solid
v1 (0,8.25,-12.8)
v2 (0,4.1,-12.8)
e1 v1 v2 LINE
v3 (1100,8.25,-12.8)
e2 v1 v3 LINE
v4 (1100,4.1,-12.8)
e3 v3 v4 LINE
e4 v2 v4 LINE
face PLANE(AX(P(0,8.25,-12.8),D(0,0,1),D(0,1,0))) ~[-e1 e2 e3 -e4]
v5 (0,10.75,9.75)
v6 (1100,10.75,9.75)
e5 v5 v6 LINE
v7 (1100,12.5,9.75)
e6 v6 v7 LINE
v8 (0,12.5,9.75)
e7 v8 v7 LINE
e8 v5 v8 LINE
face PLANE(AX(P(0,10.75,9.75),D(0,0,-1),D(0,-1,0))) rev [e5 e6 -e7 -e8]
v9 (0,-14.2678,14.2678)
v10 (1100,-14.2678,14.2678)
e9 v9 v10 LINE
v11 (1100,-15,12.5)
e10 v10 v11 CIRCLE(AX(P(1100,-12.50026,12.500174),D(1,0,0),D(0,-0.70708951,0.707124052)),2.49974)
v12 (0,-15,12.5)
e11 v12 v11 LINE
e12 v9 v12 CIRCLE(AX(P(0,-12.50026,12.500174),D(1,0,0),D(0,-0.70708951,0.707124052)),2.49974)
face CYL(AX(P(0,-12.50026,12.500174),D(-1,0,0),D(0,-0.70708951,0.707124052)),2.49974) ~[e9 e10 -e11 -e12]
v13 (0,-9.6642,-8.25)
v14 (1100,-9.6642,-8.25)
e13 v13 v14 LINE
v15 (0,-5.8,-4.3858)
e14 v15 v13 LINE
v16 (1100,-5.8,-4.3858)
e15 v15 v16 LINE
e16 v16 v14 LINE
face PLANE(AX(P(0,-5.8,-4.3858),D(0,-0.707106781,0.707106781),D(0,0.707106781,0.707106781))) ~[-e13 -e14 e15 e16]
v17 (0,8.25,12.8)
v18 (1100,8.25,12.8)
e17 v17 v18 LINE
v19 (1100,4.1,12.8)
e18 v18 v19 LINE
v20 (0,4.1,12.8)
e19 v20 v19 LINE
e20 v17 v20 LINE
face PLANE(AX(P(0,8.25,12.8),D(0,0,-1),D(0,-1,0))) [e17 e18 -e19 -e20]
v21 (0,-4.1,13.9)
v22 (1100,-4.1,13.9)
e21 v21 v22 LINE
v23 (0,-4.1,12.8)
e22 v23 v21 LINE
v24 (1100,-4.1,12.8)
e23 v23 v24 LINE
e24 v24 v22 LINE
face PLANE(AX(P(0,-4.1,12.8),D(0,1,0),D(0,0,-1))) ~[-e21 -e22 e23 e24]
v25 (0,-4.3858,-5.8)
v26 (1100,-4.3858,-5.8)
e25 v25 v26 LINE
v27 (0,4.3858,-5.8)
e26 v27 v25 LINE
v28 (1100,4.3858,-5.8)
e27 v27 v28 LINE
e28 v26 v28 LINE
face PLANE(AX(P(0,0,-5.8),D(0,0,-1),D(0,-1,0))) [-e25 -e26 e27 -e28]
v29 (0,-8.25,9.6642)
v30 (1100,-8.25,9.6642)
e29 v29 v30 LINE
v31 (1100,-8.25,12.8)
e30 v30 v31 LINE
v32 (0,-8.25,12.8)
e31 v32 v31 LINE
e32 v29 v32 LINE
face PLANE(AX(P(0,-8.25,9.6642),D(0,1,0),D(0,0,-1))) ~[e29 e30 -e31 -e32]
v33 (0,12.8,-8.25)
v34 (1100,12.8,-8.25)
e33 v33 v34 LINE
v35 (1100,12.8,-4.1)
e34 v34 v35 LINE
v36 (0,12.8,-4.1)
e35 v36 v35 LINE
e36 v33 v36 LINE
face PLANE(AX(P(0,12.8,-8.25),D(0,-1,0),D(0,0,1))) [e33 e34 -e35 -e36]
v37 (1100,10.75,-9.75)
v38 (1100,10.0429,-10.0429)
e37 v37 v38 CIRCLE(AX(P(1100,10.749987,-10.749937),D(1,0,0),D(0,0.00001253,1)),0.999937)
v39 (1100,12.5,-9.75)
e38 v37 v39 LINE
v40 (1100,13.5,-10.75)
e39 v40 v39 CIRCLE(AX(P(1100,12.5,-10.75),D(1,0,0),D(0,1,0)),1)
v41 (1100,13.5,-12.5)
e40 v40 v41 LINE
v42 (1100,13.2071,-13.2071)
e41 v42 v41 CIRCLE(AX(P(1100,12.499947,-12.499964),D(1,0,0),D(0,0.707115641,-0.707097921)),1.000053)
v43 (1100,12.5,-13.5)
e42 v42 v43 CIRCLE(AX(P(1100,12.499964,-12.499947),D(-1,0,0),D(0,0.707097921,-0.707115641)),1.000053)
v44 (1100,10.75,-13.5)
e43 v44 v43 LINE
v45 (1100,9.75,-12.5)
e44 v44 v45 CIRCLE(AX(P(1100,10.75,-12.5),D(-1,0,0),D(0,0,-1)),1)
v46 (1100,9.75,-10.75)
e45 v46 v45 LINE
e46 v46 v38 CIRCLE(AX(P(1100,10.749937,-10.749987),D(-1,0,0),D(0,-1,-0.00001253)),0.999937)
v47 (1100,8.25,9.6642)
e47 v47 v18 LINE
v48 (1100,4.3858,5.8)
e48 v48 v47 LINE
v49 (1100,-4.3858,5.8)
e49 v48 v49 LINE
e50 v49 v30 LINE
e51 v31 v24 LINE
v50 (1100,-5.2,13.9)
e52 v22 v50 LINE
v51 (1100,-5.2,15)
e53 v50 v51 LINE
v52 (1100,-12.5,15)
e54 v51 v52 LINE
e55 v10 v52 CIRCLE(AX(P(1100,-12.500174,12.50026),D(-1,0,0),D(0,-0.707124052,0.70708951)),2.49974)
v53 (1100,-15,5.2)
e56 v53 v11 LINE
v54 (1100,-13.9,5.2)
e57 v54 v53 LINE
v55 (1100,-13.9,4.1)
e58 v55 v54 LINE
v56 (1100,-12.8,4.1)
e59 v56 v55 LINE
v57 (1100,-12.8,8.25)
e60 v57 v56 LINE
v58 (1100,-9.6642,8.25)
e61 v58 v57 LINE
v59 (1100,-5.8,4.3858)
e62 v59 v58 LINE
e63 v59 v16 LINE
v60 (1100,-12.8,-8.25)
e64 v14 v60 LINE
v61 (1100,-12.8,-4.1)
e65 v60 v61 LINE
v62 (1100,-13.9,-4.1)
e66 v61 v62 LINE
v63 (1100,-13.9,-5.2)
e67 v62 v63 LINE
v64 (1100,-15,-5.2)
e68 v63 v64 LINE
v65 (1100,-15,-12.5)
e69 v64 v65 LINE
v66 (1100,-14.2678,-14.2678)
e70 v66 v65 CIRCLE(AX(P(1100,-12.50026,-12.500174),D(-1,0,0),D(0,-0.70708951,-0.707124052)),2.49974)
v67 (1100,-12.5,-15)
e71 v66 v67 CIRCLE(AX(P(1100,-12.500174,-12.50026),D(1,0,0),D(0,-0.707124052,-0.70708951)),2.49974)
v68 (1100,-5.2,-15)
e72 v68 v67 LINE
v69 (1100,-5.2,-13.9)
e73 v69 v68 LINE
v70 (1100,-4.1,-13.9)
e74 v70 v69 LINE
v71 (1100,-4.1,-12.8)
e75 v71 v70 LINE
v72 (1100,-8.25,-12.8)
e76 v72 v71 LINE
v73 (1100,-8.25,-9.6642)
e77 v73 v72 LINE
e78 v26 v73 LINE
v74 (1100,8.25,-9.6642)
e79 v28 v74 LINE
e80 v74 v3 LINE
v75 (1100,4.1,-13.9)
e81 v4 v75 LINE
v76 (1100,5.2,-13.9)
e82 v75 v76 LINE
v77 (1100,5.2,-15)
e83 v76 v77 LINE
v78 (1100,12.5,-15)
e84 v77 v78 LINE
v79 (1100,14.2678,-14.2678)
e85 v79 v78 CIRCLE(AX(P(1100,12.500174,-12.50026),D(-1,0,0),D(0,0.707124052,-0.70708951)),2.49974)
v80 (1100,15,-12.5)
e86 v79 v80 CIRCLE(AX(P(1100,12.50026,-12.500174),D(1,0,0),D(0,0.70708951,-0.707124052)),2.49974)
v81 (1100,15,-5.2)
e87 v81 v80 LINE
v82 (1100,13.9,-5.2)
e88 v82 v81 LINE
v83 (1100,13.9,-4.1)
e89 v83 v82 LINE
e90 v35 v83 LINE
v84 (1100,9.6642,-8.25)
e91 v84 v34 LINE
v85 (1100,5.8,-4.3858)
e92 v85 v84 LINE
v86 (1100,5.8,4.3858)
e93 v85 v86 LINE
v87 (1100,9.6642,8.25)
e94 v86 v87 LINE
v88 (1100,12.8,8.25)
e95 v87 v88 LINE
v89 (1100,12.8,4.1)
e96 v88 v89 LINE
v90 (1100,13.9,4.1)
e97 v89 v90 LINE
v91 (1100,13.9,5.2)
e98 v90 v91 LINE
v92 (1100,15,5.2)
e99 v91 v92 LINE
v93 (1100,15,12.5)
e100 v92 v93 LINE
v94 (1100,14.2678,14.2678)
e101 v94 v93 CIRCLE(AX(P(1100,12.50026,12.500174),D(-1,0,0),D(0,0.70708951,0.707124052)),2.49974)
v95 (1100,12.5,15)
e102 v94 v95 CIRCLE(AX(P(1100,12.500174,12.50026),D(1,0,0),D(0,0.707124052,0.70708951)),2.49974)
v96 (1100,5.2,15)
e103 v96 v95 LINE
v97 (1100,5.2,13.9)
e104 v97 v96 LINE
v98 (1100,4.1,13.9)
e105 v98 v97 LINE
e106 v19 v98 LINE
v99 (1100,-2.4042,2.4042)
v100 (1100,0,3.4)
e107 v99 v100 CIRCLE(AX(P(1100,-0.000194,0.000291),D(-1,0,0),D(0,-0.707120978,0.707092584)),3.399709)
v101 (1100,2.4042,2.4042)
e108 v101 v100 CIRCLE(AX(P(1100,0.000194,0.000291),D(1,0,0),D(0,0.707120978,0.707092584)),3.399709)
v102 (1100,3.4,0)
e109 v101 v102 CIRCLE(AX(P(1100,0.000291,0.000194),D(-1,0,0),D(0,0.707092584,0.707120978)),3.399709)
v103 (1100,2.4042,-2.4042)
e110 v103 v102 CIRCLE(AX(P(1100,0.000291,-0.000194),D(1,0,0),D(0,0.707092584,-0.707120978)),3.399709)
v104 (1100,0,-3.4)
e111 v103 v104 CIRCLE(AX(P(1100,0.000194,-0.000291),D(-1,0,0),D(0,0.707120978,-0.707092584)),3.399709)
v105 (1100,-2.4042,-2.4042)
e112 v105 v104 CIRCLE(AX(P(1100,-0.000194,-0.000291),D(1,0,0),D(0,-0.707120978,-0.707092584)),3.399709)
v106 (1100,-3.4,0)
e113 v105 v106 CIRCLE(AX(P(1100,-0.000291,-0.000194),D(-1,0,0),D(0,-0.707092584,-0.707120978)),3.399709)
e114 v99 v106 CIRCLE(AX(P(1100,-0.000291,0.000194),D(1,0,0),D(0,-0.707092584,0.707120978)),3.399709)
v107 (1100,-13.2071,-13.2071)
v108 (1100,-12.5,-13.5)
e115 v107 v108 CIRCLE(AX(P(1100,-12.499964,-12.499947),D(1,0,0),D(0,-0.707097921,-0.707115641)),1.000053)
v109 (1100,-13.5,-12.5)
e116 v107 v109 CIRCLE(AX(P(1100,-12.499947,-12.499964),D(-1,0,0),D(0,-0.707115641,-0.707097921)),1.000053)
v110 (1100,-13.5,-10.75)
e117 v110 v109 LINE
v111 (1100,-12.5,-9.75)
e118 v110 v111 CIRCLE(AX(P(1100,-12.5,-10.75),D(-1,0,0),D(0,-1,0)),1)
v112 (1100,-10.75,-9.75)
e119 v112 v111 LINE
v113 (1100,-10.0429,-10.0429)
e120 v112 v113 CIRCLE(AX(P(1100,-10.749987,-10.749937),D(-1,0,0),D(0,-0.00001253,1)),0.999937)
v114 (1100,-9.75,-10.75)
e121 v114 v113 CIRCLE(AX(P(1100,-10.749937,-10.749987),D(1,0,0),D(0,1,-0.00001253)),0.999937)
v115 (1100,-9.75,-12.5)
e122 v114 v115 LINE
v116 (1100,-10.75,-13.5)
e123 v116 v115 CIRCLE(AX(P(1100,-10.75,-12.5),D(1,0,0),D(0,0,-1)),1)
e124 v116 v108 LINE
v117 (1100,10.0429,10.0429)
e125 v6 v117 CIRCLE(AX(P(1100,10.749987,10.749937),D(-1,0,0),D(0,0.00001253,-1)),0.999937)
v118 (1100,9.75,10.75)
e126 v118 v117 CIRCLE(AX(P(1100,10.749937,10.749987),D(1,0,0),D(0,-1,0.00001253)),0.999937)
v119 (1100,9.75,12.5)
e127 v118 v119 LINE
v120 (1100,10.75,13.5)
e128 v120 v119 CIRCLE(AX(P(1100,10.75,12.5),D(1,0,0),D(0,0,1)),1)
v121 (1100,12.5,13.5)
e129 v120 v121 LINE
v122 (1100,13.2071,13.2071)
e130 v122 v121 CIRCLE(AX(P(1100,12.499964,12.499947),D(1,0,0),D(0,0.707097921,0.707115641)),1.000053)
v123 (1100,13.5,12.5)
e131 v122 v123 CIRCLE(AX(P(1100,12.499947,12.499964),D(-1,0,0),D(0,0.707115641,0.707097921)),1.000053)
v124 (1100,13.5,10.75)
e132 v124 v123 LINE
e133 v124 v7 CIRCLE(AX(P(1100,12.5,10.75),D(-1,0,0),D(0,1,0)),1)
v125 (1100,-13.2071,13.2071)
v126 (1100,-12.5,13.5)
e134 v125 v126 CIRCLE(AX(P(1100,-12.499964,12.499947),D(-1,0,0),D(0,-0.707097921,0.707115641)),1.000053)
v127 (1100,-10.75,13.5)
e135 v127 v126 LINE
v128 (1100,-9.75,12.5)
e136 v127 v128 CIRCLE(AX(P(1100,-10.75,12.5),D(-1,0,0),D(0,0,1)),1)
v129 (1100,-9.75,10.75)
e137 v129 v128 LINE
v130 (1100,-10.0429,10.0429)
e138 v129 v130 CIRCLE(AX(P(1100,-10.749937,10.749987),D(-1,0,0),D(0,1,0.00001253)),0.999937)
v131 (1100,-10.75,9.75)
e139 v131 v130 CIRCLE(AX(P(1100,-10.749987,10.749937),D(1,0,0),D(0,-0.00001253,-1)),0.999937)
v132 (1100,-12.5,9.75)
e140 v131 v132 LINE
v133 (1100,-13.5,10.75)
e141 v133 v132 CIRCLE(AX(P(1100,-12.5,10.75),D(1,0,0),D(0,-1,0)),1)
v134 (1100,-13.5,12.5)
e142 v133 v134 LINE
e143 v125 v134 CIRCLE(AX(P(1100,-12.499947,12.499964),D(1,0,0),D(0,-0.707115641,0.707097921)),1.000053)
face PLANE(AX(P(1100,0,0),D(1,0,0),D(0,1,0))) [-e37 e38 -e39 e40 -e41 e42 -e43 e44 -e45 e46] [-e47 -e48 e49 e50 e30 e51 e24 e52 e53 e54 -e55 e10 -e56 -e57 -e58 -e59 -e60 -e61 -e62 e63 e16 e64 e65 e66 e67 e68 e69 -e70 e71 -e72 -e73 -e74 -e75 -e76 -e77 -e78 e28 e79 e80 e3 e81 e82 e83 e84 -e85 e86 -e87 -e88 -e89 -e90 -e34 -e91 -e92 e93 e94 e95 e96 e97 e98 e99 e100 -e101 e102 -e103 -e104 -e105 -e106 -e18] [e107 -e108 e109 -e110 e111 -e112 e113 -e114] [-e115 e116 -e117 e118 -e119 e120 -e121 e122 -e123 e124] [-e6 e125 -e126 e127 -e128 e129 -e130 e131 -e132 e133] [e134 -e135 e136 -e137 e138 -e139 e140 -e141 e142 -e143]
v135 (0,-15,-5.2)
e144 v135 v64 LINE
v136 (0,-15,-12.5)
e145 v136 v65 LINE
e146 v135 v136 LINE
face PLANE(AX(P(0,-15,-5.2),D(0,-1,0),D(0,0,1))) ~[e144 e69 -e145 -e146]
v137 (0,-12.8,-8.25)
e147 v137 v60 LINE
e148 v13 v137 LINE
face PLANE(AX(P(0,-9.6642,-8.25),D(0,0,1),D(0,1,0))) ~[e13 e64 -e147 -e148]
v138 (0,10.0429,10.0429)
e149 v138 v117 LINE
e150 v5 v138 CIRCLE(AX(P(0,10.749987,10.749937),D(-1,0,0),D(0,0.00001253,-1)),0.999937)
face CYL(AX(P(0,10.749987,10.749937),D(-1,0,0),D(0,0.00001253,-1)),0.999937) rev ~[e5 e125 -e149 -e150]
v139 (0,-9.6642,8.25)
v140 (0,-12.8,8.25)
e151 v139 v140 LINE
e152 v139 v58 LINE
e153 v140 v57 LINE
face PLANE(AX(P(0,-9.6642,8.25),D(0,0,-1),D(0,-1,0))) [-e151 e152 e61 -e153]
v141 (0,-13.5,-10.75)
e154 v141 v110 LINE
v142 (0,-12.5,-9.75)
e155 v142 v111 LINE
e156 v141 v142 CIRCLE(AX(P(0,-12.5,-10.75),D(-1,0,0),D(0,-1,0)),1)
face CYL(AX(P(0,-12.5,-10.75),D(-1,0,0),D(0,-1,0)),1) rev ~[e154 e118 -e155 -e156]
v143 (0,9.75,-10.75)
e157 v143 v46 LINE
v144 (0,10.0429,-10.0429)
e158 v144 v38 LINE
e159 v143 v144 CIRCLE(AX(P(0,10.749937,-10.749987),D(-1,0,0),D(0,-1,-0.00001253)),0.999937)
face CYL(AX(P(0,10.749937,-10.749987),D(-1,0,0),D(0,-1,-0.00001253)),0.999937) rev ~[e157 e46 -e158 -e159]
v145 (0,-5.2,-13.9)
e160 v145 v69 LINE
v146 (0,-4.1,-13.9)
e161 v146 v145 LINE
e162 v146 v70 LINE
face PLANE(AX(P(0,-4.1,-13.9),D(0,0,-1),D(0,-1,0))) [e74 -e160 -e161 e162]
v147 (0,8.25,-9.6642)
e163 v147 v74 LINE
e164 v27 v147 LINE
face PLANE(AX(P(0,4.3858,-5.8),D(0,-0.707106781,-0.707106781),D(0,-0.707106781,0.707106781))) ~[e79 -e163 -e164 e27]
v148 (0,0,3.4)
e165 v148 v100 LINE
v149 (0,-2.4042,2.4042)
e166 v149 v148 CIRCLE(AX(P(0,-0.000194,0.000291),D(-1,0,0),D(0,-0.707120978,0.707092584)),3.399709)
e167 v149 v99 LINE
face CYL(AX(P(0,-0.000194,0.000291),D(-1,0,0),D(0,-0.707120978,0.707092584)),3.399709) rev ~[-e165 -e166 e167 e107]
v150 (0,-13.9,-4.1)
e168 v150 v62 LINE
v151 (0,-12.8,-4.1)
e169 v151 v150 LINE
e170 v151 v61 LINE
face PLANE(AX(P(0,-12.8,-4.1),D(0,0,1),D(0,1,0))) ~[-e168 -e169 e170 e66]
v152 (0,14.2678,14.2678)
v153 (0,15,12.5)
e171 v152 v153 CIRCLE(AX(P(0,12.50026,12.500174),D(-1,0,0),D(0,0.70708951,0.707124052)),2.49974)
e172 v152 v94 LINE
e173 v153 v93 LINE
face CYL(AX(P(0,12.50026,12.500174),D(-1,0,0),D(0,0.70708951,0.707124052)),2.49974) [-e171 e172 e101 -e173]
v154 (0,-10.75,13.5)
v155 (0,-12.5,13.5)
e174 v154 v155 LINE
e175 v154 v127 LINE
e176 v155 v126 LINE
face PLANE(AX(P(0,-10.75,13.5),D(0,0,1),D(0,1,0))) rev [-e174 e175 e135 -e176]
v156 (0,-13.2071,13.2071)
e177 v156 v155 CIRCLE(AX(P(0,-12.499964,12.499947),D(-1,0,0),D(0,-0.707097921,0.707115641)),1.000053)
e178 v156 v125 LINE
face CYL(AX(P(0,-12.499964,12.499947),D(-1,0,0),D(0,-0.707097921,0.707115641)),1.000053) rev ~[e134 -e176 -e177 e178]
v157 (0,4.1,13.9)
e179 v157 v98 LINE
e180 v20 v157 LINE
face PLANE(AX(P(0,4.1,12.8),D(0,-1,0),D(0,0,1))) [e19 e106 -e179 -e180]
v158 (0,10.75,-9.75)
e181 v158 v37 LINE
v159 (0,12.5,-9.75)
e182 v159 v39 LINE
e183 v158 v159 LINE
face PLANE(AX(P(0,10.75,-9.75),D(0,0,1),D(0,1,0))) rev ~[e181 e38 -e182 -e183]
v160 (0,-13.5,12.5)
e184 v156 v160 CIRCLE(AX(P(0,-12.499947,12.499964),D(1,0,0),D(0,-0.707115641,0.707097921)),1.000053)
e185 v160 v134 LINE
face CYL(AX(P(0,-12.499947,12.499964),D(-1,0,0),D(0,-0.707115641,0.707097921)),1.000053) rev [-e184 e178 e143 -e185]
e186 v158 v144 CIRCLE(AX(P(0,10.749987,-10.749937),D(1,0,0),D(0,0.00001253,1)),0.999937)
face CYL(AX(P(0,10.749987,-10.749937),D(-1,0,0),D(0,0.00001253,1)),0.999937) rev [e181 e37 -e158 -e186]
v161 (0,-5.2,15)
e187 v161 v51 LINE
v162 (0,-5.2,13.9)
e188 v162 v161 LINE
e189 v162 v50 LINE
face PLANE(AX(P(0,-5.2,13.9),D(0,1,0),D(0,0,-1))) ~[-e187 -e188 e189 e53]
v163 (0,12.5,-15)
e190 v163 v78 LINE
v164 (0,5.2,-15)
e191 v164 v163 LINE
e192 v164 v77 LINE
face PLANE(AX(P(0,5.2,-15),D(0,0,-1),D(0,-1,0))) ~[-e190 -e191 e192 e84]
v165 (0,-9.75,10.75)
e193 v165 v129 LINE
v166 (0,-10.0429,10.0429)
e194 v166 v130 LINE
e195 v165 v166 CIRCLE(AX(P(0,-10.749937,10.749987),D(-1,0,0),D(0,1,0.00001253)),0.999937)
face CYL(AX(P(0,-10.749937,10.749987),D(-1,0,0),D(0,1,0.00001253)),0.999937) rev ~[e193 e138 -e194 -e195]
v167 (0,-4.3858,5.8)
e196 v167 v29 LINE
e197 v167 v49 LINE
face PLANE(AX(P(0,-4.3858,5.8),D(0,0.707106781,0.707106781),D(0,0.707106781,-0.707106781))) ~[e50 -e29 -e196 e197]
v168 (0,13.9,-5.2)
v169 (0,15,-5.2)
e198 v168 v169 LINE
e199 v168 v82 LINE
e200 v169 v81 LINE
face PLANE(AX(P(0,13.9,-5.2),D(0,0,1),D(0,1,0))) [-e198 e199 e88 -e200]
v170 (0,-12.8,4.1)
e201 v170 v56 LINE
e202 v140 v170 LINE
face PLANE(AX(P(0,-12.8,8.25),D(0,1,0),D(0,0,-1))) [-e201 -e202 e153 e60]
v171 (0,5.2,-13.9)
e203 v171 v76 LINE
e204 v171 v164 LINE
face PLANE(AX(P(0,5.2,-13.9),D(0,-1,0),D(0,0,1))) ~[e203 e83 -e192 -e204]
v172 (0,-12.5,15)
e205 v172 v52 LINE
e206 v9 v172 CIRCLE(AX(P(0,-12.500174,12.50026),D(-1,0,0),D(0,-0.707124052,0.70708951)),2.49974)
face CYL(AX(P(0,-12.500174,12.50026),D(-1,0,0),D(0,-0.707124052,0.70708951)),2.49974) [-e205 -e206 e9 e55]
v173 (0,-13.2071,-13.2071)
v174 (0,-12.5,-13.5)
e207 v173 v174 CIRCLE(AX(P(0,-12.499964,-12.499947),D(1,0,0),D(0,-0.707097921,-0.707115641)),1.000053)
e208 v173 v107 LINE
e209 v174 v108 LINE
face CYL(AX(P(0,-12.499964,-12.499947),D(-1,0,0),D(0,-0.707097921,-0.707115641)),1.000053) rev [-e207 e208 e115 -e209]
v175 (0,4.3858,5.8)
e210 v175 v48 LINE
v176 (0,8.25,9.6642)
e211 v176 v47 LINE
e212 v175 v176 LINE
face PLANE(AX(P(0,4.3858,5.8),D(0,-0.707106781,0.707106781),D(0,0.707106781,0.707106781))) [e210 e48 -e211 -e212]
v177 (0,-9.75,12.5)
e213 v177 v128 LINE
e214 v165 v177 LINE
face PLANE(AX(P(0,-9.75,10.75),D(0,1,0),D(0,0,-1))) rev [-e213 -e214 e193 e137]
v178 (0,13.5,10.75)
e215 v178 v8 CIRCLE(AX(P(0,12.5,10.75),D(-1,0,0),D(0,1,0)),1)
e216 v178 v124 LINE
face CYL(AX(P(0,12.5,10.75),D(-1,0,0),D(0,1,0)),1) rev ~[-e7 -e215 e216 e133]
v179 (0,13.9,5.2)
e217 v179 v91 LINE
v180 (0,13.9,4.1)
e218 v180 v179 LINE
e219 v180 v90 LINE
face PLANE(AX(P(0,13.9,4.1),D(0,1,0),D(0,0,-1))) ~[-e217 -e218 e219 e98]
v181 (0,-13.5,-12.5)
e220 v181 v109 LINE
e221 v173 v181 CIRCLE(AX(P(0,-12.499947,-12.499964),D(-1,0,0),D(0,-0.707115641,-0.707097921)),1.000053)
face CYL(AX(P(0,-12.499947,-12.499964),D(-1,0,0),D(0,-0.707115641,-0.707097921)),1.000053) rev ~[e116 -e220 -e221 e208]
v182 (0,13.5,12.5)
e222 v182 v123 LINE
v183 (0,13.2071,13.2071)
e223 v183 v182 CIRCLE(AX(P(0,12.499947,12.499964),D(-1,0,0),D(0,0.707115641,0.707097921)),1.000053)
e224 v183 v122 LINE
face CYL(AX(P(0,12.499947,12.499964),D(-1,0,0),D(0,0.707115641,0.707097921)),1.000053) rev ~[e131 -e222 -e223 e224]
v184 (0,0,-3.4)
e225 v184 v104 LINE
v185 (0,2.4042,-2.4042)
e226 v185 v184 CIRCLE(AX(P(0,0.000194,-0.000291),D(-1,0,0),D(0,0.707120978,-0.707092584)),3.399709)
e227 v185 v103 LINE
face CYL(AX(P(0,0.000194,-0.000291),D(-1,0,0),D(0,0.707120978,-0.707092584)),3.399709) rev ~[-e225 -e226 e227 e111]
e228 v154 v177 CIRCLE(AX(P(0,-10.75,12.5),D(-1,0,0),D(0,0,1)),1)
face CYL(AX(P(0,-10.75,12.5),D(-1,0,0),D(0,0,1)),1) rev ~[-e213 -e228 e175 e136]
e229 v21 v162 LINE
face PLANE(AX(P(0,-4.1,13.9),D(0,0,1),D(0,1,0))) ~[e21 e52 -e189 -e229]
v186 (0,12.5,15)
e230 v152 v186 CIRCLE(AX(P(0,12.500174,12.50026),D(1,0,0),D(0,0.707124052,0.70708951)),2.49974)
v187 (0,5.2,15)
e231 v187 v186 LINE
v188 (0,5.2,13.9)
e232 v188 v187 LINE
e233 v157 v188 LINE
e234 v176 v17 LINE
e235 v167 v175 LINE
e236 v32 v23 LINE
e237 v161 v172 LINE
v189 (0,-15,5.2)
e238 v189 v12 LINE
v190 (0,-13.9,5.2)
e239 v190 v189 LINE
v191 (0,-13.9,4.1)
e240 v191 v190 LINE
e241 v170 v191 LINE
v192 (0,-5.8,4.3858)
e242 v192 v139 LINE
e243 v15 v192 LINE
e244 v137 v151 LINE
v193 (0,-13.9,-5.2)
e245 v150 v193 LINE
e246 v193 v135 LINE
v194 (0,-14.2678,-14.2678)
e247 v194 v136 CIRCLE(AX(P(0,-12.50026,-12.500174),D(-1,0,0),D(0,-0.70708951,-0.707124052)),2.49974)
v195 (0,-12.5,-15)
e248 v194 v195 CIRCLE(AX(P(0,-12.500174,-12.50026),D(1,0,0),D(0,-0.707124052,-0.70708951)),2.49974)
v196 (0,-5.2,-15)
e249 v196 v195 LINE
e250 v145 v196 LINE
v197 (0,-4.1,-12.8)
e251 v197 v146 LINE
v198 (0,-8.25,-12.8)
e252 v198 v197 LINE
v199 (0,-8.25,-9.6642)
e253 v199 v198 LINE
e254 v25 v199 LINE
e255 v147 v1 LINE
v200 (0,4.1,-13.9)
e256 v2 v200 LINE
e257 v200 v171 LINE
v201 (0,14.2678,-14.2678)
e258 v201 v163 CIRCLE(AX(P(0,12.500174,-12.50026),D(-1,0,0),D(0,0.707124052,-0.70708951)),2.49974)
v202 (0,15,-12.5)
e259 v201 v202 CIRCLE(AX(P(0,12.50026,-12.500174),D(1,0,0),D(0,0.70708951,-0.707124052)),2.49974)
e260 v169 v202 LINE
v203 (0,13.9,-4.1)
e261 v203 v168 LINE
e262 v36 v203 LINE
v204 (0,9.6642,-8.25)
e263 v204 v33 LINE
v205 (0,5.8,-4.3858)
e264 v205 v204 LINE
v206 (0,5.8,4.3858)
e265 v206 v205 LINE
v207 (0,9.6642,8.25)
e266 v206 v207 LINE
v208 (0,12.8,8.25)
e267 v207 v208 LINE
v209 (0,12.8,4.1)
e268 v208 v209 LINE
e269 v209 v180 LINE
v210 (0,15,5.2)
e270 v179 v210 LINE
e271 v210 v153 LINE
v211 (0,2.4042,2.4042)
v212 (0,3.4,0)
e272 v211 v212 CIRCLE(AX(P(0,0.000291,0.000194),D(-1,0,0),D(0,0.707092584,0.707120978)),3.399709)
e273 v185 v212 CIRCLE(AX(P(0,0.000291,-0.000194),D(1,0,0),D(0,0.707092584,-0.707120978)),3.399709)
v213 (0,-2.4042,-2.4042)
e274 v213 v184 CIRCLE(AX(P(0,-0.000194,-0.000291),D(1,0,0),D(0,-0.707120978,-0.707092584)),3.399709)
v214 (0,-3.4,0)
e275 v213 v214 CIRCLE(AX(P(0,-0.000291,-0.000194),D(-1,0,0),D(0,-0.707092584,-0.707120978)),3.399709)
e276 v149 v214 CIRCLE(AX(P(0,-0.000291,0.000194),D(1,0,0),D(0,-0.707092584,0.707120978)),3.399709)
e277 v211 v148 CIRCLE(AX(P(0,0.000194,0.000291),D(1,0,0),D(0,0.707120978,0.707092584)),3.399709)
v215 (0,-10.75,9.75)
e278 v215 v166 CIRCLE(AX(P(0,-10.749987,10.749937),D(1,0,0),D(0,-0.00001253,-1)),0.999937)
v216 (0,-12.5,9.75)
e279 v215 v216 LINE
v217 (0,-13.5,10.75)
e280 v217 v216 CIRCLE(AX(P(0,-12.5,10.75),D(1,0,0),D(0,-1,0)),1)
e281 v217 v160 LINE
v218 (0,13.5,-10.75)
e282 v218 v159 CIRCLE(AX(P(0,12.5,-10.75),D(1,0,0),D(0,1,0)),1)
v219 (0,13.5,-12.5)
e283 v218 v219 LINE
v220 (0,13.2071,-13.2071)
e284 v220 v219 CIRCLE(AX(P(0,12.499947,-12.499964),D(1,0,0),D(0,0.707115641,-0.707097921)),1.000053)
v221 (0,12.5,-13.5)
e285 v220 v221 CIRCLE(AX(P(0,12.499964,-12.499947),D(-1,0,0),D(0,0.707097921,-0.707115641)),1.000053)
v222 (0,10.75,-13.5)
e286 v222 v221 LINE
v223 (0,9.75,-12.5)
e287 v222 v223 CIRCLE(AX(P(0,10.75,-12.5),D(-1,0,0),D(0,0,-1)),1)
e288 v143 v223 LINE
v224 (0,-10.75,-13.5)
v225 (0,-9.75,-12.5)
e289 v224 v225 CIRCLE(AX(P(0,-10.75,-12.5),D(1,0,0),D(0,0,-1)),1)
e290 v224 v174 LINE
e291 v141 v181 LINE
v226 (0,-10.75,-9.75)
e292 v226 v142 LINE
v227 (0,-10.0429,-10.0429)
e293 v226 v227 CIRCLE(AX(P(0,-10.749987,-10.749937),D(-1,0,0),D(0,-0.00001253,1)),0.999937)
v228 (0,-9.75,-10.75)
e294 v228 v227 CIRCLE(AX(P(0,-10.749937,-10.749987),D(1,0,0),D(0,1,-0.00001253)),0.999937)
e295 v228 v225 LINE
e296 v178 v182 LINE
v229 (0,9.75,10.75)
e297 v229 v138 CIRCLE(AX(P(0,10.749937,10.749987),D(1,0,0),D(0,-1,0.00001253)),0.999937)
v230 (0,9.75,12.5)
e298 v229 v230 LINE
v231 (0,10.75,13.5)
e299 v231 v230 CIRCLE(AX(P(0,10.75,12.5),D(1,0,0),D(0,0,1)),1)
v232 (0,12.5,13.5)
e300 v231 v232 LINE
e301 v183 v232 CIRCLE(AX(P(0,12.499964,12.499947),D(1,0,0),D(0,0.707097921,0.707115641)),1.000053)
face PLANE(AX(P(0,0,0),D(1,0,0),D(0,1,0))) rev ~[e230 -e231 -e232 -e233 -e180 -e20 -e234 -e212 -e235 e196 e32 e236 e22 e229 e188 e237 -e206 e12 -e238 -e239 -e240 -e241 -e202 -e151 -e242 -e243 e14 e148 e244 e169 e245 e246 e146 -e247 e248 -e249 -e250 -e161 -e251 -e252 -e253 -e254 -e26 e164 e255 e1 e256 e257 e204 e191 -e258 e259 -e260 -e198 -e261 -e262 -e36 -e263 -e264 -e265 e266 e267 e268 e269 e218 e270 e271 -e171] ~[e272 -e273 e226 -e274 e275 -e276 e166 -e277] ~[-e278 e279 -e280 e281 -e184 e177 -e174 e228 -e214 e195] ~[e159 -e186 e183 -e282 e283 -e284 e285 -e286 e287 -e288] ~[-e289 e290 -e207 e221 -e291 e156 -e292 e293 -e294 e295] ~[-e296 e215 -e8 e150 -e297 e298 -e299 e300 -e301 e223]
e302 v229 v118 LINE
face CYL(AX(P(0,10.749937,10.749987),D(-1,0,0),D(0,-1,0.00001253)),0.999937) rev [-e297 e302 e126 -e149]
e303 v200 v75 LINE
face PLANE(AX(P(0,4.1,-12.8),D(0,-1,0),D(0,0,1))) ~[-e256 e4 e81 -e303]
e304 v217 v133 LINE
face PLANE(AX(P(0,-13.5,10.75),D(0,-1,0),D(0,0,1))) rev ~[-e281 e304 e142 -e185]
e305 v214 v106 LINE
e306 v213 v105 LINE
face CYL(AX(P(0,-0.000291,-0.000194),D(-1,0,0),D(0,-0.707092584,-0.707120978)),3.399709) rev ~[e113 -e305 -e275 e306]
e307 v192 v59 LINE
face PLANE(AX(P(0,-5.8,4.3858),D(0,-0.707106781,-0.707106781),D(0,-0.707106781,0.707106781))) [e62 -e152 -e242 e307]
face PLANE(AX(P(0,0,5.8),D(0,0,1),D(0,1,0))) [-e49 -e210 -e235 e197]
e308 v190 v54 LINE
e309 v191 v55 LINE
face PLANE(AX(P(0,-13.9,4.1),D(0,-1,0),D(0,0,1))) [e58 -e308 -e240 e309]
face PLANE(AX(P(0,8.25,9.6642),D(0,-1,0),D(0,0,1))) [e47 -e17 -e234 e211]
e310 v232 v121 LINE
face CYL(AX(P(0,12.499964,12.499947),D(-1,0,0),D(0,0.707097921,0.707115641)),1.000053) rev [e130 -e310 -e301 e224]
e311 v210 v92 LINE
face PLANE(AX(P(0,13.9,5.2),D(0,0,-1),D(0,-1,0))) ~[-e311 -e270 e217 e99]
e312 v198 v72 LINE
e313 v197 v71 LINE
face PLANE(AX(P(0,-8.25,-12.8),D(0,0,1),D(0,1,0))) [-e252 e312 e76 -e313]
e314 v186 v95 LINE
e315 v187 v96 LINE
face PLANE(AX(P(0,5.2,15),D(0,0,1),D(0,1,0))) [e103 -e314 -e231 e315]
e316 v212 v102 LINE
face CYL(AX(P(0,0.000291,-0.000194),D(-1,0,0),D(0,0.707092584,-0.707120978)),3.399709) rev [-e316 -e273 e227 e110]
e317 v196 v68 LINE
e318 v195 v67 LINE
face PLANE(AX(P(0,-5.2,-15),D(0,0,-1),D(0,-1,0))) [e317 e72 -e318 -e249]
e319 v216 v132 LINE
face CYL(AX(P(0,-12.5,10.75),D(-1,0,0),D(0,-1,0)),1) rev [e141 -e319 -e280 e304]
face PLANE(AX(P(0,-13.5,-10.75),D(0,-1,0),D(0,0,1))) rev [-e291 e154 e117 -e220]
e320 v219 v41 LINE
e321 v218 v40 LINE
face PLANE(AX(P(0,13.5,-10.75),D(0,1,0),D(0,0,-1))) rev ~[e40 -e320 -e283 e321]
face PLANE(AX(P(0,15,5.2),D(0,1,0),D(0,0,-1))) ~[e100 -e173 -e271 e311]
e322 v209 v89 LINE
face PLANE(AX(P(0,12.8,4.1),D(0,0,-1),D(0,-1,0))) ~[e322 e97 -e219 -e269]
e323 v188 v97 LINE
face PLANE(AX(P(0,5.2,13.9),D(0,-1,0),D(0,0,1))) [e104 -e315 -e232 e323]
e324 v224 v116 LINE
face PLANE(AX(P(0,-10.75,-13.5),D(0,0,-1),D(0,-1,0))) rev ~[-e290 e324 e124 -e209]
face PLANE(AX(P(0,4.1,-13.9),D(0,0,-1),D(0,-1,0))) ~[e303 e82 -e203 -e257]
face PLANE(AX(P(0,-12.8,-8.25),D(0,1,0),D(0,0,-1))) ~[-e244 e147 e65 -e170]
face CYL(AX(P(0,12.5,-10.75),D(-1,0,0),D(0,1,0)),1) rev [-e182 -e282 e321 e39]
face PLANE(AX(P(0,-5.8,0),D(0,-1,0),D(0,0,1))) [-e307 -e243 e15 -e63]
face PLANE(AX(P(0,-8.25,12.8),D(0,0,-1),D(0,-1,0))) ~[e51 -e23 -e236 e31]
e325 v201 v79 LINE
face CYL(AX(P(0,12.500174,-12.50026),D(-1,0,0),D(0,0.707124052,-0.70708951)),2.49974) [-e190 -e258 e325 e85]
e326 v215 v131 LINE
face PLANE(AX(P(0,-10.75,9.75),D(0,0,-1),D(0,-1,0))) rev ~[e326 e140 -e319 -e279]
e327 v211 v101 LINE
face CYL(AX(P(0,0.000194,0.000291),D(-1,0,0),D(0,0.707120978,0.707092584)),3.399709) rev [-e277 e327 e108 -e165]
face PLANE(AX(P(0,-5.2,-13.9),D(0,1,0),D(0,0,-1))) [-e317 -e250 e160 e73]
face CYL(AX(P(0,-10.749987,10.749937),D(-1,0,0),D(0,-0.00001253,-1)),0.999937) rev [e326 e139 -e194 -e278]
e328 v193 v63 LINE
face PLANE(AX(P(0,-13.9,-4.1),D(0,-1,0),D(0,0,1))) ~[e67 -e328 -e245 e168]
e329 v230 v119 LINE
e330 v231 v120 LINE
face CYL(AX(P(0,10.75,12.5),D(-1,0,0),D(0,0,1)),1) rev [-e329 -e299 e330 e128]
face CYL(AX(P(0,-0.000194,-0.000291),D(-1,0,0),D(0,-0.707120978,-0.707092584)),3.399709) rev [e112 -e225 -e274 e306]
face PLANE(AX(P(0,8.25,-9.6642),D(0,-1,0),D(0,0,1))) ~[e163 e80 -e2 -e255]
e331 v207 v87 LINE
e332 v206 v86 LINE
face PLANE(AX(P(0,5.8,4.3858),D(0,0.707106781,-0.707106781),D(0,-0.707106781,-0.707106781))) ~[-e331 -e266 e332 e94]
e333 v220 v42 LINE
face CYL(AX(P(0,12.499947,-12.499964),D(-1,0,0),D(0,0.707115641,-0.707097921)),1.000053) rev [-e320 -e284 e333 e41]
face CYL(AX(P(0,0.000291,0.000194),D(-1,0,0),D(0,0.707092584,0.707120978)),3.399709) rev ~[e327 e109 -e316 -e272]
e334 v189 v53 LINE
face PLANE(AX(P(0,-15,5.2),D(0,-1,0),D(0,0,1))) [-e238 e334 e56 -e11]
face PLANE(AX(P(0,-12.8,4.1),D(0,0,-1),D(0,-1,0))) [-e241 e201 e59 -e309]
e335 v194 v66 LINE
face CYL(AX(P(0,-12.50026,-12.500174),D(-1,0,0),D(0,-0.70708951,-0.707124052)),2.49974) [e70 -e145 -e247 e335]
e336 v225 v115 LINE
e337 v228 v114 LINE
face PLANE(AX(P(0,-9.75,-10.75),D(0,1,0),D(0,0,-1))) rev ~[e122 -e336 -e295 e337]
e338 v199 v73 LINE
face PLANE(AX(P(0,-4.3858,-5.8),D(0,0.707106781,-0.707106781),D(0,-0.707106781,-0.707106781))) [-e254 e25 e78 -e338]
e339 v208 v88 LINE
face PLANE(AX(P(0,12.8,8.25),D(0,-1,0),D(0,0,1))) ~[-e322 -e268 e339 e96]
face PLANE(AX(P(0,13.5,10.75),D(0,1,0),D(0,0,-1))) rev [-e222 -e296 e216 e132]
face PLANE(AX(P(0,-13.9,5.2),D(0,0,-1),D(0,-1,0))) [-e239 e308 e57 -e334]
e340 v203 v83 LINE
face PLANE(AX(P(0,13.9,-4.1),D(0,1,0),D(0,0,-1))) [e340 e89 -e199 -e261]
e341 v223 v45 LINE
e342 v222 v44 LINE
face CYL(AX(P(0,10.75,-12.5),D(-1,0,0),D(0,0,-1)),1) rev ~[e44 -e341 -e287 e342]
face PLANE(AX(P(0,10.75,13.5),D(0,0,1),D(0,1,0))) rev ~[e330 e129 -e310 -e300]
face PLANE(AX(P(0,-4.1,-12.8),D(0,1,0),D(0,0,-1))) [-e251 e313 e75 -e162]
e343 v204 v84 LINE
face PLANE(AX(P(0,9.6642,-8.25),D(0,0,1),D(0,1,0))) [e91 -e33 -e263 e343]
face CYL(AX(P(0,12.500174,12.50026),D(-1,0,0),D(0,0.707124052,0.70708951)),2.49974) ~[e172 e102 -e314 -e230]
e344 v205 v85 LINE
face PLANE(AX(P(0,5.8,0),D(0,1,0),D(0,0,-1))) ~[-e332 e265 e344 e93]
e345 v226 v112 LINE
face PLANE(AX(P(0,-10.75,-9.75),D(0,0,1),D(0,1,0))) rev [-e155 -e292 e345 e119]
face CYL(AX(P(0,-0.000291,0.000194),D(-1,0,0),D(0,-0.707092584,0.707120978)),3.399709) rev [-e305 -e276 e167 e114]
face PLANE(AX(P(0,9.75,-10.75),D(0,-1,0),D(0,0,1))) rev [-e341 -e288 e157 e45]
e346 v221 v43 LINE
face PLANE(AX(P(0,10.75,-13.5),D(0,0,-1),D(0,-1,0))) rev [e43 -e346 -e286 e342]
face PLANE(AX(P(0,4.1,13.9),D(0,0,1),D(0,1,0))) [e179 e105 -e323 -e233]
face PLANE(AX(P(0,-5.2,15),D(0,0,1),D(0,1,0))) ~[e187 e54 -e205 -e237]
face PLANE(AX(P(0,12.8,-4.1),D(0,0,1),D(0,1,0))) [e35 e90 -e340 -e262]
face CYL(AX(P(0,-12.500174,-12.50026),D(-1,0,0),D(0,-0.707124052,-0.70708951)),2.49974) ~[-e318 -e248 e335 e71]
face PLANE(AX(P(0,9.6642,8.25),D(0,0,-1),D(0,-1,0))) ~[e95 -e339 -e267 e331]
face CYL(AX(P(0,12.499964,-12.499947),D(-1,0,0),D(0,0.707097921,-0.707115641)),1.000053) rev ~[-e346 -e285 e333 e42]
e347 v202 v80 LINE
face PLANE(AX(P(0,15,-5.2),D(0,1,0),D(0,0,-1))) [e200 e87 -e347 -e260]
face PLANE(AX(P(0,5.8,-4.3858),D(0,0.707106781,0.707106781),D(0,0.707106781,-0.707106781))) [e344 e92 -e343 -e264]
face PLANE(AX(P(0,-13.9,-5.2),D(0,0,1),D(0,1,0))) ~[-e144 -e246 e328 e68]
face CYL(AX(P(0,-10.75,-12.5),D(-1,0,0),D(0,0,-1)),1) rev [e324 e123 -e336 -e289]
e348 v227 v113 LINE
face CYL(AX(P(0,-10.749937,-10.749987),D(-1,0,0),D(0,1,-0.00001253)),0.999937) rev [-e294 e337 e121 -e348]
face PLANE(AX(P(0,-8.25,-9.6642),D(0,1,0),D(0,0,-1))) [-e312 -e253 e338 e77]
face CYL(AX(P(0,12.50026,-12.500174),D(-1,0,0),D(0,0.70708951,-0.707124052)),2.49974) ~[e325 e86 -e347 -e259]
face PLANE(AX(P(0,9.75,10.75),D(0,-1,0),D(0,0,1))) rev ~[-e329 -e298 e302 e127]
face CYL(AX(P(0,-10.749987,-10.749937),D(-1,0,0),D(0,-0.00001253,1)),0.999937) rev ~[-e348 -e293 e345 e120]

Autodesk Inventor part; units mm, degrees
ref_plane "YZ Plane" through (0, 0, 0) normal (1, 0, 0) x (0, 1, 0)
ref_plane "XZ Plane" through (0, 0, 0) normal (0, 1, 0) x (-1, 0, 0)
ref_plane "XY Plane" through (0, 0, 0) normal (0, 0, 1) x (1, 0, 0)
sketch "Sketch1" plane through (0, 0, 0) normal (1, 0, 0) x (0, 1, 0)
  arc A0 (2.4042, 2.4042) -> (0, 3.4) centre (0, 0) ccw
  line L0 (0, 3.4) -> (0, 5.8)
  line L1 (0, 5.8) -> (4.3858, 5.8)
  line L2 (4.3858, 5.8) -> (8.25, 9.6642)
  line L3 (8.25, 9.6642) -> (8.25, 12.8)
  line L4 (8.25, 12.8) -> (4.1, 12.8)
  line L5 (4.1, 12.8) -> (4.1, 13.9)
  line L6 (4.1, 13.9) -> (5.2, 13.9)
  line L7 (5.2, 13.9) -> (5.2, 15)
  line L8 (5.2, 15) -> (12.5, 15)
  arc A1 (14.2678, 14.2678) -> (12.5, 15) centre (12.5, 12.5) ccw
  line L9 (14.2678, 14.2678) -> (13.2071, 13.2071)
  line L10 (9.75, 9.75) -> (9.75, 10.75) construction
  line L11 (10.75, 13.5) -> (12.5, 13.5)
  arc A2 (9.75, 10.75) -> (10.0429, 10.0429) centre (10.75, 10.75) ccw
  arc A3 (13.2071, 13.2071) -> (12.5, 13.5) centre (12.5, 12.5) ccw
  arc A4 (10.75, 13.5) -> (9.75, 12.5) centre (10.75, 12.5) ccw
  line L12 (12.5, 13.5) -> (13.5, 13.5) construction
  line L13 (9.75, 10.75) -> (9.75, 12.5)
  line L14 (13.2071, 13.2071) -> (10.0429, 10.0429) construction
  line L15 (10.0429, 10.0429) -> (2.4042, 2.4042)
  point P0 (8.25, 11.2321)
  dimension "d0" = 3.4
  dimension "d1" = 45
  dimension "d3" = 45
  dimension "d4" = 2.5
  dimension "d5" = 135
  dimension "d6" = 1
  dimension "d7" = 4.1
  dimension "d8" = 5.2
  dimension "d9" = 8.25
  dimension "d10" = 15
  dimension "d11" = 2.2
  dimension "d12" = 5.8
  dimension "d13" = 1.5
  dimension "d14" = 1.5
  dimension "d15" = 1
  dimension "d16" = 1
  dimension "d17" = 1
extrude "Extrusion1" add sketch "Sketch1" along normal blind 1100
mirror "Mirror1" about plane through (0, 2.4042, 2.4042) normal (0, 0.7071, -0.7071)
pattern_circular "Circular Pattern1" count 4 over 360 about axis through (-10, 0, 0) along (1, 0, 0)
properties part number "3030_Extrusion"
